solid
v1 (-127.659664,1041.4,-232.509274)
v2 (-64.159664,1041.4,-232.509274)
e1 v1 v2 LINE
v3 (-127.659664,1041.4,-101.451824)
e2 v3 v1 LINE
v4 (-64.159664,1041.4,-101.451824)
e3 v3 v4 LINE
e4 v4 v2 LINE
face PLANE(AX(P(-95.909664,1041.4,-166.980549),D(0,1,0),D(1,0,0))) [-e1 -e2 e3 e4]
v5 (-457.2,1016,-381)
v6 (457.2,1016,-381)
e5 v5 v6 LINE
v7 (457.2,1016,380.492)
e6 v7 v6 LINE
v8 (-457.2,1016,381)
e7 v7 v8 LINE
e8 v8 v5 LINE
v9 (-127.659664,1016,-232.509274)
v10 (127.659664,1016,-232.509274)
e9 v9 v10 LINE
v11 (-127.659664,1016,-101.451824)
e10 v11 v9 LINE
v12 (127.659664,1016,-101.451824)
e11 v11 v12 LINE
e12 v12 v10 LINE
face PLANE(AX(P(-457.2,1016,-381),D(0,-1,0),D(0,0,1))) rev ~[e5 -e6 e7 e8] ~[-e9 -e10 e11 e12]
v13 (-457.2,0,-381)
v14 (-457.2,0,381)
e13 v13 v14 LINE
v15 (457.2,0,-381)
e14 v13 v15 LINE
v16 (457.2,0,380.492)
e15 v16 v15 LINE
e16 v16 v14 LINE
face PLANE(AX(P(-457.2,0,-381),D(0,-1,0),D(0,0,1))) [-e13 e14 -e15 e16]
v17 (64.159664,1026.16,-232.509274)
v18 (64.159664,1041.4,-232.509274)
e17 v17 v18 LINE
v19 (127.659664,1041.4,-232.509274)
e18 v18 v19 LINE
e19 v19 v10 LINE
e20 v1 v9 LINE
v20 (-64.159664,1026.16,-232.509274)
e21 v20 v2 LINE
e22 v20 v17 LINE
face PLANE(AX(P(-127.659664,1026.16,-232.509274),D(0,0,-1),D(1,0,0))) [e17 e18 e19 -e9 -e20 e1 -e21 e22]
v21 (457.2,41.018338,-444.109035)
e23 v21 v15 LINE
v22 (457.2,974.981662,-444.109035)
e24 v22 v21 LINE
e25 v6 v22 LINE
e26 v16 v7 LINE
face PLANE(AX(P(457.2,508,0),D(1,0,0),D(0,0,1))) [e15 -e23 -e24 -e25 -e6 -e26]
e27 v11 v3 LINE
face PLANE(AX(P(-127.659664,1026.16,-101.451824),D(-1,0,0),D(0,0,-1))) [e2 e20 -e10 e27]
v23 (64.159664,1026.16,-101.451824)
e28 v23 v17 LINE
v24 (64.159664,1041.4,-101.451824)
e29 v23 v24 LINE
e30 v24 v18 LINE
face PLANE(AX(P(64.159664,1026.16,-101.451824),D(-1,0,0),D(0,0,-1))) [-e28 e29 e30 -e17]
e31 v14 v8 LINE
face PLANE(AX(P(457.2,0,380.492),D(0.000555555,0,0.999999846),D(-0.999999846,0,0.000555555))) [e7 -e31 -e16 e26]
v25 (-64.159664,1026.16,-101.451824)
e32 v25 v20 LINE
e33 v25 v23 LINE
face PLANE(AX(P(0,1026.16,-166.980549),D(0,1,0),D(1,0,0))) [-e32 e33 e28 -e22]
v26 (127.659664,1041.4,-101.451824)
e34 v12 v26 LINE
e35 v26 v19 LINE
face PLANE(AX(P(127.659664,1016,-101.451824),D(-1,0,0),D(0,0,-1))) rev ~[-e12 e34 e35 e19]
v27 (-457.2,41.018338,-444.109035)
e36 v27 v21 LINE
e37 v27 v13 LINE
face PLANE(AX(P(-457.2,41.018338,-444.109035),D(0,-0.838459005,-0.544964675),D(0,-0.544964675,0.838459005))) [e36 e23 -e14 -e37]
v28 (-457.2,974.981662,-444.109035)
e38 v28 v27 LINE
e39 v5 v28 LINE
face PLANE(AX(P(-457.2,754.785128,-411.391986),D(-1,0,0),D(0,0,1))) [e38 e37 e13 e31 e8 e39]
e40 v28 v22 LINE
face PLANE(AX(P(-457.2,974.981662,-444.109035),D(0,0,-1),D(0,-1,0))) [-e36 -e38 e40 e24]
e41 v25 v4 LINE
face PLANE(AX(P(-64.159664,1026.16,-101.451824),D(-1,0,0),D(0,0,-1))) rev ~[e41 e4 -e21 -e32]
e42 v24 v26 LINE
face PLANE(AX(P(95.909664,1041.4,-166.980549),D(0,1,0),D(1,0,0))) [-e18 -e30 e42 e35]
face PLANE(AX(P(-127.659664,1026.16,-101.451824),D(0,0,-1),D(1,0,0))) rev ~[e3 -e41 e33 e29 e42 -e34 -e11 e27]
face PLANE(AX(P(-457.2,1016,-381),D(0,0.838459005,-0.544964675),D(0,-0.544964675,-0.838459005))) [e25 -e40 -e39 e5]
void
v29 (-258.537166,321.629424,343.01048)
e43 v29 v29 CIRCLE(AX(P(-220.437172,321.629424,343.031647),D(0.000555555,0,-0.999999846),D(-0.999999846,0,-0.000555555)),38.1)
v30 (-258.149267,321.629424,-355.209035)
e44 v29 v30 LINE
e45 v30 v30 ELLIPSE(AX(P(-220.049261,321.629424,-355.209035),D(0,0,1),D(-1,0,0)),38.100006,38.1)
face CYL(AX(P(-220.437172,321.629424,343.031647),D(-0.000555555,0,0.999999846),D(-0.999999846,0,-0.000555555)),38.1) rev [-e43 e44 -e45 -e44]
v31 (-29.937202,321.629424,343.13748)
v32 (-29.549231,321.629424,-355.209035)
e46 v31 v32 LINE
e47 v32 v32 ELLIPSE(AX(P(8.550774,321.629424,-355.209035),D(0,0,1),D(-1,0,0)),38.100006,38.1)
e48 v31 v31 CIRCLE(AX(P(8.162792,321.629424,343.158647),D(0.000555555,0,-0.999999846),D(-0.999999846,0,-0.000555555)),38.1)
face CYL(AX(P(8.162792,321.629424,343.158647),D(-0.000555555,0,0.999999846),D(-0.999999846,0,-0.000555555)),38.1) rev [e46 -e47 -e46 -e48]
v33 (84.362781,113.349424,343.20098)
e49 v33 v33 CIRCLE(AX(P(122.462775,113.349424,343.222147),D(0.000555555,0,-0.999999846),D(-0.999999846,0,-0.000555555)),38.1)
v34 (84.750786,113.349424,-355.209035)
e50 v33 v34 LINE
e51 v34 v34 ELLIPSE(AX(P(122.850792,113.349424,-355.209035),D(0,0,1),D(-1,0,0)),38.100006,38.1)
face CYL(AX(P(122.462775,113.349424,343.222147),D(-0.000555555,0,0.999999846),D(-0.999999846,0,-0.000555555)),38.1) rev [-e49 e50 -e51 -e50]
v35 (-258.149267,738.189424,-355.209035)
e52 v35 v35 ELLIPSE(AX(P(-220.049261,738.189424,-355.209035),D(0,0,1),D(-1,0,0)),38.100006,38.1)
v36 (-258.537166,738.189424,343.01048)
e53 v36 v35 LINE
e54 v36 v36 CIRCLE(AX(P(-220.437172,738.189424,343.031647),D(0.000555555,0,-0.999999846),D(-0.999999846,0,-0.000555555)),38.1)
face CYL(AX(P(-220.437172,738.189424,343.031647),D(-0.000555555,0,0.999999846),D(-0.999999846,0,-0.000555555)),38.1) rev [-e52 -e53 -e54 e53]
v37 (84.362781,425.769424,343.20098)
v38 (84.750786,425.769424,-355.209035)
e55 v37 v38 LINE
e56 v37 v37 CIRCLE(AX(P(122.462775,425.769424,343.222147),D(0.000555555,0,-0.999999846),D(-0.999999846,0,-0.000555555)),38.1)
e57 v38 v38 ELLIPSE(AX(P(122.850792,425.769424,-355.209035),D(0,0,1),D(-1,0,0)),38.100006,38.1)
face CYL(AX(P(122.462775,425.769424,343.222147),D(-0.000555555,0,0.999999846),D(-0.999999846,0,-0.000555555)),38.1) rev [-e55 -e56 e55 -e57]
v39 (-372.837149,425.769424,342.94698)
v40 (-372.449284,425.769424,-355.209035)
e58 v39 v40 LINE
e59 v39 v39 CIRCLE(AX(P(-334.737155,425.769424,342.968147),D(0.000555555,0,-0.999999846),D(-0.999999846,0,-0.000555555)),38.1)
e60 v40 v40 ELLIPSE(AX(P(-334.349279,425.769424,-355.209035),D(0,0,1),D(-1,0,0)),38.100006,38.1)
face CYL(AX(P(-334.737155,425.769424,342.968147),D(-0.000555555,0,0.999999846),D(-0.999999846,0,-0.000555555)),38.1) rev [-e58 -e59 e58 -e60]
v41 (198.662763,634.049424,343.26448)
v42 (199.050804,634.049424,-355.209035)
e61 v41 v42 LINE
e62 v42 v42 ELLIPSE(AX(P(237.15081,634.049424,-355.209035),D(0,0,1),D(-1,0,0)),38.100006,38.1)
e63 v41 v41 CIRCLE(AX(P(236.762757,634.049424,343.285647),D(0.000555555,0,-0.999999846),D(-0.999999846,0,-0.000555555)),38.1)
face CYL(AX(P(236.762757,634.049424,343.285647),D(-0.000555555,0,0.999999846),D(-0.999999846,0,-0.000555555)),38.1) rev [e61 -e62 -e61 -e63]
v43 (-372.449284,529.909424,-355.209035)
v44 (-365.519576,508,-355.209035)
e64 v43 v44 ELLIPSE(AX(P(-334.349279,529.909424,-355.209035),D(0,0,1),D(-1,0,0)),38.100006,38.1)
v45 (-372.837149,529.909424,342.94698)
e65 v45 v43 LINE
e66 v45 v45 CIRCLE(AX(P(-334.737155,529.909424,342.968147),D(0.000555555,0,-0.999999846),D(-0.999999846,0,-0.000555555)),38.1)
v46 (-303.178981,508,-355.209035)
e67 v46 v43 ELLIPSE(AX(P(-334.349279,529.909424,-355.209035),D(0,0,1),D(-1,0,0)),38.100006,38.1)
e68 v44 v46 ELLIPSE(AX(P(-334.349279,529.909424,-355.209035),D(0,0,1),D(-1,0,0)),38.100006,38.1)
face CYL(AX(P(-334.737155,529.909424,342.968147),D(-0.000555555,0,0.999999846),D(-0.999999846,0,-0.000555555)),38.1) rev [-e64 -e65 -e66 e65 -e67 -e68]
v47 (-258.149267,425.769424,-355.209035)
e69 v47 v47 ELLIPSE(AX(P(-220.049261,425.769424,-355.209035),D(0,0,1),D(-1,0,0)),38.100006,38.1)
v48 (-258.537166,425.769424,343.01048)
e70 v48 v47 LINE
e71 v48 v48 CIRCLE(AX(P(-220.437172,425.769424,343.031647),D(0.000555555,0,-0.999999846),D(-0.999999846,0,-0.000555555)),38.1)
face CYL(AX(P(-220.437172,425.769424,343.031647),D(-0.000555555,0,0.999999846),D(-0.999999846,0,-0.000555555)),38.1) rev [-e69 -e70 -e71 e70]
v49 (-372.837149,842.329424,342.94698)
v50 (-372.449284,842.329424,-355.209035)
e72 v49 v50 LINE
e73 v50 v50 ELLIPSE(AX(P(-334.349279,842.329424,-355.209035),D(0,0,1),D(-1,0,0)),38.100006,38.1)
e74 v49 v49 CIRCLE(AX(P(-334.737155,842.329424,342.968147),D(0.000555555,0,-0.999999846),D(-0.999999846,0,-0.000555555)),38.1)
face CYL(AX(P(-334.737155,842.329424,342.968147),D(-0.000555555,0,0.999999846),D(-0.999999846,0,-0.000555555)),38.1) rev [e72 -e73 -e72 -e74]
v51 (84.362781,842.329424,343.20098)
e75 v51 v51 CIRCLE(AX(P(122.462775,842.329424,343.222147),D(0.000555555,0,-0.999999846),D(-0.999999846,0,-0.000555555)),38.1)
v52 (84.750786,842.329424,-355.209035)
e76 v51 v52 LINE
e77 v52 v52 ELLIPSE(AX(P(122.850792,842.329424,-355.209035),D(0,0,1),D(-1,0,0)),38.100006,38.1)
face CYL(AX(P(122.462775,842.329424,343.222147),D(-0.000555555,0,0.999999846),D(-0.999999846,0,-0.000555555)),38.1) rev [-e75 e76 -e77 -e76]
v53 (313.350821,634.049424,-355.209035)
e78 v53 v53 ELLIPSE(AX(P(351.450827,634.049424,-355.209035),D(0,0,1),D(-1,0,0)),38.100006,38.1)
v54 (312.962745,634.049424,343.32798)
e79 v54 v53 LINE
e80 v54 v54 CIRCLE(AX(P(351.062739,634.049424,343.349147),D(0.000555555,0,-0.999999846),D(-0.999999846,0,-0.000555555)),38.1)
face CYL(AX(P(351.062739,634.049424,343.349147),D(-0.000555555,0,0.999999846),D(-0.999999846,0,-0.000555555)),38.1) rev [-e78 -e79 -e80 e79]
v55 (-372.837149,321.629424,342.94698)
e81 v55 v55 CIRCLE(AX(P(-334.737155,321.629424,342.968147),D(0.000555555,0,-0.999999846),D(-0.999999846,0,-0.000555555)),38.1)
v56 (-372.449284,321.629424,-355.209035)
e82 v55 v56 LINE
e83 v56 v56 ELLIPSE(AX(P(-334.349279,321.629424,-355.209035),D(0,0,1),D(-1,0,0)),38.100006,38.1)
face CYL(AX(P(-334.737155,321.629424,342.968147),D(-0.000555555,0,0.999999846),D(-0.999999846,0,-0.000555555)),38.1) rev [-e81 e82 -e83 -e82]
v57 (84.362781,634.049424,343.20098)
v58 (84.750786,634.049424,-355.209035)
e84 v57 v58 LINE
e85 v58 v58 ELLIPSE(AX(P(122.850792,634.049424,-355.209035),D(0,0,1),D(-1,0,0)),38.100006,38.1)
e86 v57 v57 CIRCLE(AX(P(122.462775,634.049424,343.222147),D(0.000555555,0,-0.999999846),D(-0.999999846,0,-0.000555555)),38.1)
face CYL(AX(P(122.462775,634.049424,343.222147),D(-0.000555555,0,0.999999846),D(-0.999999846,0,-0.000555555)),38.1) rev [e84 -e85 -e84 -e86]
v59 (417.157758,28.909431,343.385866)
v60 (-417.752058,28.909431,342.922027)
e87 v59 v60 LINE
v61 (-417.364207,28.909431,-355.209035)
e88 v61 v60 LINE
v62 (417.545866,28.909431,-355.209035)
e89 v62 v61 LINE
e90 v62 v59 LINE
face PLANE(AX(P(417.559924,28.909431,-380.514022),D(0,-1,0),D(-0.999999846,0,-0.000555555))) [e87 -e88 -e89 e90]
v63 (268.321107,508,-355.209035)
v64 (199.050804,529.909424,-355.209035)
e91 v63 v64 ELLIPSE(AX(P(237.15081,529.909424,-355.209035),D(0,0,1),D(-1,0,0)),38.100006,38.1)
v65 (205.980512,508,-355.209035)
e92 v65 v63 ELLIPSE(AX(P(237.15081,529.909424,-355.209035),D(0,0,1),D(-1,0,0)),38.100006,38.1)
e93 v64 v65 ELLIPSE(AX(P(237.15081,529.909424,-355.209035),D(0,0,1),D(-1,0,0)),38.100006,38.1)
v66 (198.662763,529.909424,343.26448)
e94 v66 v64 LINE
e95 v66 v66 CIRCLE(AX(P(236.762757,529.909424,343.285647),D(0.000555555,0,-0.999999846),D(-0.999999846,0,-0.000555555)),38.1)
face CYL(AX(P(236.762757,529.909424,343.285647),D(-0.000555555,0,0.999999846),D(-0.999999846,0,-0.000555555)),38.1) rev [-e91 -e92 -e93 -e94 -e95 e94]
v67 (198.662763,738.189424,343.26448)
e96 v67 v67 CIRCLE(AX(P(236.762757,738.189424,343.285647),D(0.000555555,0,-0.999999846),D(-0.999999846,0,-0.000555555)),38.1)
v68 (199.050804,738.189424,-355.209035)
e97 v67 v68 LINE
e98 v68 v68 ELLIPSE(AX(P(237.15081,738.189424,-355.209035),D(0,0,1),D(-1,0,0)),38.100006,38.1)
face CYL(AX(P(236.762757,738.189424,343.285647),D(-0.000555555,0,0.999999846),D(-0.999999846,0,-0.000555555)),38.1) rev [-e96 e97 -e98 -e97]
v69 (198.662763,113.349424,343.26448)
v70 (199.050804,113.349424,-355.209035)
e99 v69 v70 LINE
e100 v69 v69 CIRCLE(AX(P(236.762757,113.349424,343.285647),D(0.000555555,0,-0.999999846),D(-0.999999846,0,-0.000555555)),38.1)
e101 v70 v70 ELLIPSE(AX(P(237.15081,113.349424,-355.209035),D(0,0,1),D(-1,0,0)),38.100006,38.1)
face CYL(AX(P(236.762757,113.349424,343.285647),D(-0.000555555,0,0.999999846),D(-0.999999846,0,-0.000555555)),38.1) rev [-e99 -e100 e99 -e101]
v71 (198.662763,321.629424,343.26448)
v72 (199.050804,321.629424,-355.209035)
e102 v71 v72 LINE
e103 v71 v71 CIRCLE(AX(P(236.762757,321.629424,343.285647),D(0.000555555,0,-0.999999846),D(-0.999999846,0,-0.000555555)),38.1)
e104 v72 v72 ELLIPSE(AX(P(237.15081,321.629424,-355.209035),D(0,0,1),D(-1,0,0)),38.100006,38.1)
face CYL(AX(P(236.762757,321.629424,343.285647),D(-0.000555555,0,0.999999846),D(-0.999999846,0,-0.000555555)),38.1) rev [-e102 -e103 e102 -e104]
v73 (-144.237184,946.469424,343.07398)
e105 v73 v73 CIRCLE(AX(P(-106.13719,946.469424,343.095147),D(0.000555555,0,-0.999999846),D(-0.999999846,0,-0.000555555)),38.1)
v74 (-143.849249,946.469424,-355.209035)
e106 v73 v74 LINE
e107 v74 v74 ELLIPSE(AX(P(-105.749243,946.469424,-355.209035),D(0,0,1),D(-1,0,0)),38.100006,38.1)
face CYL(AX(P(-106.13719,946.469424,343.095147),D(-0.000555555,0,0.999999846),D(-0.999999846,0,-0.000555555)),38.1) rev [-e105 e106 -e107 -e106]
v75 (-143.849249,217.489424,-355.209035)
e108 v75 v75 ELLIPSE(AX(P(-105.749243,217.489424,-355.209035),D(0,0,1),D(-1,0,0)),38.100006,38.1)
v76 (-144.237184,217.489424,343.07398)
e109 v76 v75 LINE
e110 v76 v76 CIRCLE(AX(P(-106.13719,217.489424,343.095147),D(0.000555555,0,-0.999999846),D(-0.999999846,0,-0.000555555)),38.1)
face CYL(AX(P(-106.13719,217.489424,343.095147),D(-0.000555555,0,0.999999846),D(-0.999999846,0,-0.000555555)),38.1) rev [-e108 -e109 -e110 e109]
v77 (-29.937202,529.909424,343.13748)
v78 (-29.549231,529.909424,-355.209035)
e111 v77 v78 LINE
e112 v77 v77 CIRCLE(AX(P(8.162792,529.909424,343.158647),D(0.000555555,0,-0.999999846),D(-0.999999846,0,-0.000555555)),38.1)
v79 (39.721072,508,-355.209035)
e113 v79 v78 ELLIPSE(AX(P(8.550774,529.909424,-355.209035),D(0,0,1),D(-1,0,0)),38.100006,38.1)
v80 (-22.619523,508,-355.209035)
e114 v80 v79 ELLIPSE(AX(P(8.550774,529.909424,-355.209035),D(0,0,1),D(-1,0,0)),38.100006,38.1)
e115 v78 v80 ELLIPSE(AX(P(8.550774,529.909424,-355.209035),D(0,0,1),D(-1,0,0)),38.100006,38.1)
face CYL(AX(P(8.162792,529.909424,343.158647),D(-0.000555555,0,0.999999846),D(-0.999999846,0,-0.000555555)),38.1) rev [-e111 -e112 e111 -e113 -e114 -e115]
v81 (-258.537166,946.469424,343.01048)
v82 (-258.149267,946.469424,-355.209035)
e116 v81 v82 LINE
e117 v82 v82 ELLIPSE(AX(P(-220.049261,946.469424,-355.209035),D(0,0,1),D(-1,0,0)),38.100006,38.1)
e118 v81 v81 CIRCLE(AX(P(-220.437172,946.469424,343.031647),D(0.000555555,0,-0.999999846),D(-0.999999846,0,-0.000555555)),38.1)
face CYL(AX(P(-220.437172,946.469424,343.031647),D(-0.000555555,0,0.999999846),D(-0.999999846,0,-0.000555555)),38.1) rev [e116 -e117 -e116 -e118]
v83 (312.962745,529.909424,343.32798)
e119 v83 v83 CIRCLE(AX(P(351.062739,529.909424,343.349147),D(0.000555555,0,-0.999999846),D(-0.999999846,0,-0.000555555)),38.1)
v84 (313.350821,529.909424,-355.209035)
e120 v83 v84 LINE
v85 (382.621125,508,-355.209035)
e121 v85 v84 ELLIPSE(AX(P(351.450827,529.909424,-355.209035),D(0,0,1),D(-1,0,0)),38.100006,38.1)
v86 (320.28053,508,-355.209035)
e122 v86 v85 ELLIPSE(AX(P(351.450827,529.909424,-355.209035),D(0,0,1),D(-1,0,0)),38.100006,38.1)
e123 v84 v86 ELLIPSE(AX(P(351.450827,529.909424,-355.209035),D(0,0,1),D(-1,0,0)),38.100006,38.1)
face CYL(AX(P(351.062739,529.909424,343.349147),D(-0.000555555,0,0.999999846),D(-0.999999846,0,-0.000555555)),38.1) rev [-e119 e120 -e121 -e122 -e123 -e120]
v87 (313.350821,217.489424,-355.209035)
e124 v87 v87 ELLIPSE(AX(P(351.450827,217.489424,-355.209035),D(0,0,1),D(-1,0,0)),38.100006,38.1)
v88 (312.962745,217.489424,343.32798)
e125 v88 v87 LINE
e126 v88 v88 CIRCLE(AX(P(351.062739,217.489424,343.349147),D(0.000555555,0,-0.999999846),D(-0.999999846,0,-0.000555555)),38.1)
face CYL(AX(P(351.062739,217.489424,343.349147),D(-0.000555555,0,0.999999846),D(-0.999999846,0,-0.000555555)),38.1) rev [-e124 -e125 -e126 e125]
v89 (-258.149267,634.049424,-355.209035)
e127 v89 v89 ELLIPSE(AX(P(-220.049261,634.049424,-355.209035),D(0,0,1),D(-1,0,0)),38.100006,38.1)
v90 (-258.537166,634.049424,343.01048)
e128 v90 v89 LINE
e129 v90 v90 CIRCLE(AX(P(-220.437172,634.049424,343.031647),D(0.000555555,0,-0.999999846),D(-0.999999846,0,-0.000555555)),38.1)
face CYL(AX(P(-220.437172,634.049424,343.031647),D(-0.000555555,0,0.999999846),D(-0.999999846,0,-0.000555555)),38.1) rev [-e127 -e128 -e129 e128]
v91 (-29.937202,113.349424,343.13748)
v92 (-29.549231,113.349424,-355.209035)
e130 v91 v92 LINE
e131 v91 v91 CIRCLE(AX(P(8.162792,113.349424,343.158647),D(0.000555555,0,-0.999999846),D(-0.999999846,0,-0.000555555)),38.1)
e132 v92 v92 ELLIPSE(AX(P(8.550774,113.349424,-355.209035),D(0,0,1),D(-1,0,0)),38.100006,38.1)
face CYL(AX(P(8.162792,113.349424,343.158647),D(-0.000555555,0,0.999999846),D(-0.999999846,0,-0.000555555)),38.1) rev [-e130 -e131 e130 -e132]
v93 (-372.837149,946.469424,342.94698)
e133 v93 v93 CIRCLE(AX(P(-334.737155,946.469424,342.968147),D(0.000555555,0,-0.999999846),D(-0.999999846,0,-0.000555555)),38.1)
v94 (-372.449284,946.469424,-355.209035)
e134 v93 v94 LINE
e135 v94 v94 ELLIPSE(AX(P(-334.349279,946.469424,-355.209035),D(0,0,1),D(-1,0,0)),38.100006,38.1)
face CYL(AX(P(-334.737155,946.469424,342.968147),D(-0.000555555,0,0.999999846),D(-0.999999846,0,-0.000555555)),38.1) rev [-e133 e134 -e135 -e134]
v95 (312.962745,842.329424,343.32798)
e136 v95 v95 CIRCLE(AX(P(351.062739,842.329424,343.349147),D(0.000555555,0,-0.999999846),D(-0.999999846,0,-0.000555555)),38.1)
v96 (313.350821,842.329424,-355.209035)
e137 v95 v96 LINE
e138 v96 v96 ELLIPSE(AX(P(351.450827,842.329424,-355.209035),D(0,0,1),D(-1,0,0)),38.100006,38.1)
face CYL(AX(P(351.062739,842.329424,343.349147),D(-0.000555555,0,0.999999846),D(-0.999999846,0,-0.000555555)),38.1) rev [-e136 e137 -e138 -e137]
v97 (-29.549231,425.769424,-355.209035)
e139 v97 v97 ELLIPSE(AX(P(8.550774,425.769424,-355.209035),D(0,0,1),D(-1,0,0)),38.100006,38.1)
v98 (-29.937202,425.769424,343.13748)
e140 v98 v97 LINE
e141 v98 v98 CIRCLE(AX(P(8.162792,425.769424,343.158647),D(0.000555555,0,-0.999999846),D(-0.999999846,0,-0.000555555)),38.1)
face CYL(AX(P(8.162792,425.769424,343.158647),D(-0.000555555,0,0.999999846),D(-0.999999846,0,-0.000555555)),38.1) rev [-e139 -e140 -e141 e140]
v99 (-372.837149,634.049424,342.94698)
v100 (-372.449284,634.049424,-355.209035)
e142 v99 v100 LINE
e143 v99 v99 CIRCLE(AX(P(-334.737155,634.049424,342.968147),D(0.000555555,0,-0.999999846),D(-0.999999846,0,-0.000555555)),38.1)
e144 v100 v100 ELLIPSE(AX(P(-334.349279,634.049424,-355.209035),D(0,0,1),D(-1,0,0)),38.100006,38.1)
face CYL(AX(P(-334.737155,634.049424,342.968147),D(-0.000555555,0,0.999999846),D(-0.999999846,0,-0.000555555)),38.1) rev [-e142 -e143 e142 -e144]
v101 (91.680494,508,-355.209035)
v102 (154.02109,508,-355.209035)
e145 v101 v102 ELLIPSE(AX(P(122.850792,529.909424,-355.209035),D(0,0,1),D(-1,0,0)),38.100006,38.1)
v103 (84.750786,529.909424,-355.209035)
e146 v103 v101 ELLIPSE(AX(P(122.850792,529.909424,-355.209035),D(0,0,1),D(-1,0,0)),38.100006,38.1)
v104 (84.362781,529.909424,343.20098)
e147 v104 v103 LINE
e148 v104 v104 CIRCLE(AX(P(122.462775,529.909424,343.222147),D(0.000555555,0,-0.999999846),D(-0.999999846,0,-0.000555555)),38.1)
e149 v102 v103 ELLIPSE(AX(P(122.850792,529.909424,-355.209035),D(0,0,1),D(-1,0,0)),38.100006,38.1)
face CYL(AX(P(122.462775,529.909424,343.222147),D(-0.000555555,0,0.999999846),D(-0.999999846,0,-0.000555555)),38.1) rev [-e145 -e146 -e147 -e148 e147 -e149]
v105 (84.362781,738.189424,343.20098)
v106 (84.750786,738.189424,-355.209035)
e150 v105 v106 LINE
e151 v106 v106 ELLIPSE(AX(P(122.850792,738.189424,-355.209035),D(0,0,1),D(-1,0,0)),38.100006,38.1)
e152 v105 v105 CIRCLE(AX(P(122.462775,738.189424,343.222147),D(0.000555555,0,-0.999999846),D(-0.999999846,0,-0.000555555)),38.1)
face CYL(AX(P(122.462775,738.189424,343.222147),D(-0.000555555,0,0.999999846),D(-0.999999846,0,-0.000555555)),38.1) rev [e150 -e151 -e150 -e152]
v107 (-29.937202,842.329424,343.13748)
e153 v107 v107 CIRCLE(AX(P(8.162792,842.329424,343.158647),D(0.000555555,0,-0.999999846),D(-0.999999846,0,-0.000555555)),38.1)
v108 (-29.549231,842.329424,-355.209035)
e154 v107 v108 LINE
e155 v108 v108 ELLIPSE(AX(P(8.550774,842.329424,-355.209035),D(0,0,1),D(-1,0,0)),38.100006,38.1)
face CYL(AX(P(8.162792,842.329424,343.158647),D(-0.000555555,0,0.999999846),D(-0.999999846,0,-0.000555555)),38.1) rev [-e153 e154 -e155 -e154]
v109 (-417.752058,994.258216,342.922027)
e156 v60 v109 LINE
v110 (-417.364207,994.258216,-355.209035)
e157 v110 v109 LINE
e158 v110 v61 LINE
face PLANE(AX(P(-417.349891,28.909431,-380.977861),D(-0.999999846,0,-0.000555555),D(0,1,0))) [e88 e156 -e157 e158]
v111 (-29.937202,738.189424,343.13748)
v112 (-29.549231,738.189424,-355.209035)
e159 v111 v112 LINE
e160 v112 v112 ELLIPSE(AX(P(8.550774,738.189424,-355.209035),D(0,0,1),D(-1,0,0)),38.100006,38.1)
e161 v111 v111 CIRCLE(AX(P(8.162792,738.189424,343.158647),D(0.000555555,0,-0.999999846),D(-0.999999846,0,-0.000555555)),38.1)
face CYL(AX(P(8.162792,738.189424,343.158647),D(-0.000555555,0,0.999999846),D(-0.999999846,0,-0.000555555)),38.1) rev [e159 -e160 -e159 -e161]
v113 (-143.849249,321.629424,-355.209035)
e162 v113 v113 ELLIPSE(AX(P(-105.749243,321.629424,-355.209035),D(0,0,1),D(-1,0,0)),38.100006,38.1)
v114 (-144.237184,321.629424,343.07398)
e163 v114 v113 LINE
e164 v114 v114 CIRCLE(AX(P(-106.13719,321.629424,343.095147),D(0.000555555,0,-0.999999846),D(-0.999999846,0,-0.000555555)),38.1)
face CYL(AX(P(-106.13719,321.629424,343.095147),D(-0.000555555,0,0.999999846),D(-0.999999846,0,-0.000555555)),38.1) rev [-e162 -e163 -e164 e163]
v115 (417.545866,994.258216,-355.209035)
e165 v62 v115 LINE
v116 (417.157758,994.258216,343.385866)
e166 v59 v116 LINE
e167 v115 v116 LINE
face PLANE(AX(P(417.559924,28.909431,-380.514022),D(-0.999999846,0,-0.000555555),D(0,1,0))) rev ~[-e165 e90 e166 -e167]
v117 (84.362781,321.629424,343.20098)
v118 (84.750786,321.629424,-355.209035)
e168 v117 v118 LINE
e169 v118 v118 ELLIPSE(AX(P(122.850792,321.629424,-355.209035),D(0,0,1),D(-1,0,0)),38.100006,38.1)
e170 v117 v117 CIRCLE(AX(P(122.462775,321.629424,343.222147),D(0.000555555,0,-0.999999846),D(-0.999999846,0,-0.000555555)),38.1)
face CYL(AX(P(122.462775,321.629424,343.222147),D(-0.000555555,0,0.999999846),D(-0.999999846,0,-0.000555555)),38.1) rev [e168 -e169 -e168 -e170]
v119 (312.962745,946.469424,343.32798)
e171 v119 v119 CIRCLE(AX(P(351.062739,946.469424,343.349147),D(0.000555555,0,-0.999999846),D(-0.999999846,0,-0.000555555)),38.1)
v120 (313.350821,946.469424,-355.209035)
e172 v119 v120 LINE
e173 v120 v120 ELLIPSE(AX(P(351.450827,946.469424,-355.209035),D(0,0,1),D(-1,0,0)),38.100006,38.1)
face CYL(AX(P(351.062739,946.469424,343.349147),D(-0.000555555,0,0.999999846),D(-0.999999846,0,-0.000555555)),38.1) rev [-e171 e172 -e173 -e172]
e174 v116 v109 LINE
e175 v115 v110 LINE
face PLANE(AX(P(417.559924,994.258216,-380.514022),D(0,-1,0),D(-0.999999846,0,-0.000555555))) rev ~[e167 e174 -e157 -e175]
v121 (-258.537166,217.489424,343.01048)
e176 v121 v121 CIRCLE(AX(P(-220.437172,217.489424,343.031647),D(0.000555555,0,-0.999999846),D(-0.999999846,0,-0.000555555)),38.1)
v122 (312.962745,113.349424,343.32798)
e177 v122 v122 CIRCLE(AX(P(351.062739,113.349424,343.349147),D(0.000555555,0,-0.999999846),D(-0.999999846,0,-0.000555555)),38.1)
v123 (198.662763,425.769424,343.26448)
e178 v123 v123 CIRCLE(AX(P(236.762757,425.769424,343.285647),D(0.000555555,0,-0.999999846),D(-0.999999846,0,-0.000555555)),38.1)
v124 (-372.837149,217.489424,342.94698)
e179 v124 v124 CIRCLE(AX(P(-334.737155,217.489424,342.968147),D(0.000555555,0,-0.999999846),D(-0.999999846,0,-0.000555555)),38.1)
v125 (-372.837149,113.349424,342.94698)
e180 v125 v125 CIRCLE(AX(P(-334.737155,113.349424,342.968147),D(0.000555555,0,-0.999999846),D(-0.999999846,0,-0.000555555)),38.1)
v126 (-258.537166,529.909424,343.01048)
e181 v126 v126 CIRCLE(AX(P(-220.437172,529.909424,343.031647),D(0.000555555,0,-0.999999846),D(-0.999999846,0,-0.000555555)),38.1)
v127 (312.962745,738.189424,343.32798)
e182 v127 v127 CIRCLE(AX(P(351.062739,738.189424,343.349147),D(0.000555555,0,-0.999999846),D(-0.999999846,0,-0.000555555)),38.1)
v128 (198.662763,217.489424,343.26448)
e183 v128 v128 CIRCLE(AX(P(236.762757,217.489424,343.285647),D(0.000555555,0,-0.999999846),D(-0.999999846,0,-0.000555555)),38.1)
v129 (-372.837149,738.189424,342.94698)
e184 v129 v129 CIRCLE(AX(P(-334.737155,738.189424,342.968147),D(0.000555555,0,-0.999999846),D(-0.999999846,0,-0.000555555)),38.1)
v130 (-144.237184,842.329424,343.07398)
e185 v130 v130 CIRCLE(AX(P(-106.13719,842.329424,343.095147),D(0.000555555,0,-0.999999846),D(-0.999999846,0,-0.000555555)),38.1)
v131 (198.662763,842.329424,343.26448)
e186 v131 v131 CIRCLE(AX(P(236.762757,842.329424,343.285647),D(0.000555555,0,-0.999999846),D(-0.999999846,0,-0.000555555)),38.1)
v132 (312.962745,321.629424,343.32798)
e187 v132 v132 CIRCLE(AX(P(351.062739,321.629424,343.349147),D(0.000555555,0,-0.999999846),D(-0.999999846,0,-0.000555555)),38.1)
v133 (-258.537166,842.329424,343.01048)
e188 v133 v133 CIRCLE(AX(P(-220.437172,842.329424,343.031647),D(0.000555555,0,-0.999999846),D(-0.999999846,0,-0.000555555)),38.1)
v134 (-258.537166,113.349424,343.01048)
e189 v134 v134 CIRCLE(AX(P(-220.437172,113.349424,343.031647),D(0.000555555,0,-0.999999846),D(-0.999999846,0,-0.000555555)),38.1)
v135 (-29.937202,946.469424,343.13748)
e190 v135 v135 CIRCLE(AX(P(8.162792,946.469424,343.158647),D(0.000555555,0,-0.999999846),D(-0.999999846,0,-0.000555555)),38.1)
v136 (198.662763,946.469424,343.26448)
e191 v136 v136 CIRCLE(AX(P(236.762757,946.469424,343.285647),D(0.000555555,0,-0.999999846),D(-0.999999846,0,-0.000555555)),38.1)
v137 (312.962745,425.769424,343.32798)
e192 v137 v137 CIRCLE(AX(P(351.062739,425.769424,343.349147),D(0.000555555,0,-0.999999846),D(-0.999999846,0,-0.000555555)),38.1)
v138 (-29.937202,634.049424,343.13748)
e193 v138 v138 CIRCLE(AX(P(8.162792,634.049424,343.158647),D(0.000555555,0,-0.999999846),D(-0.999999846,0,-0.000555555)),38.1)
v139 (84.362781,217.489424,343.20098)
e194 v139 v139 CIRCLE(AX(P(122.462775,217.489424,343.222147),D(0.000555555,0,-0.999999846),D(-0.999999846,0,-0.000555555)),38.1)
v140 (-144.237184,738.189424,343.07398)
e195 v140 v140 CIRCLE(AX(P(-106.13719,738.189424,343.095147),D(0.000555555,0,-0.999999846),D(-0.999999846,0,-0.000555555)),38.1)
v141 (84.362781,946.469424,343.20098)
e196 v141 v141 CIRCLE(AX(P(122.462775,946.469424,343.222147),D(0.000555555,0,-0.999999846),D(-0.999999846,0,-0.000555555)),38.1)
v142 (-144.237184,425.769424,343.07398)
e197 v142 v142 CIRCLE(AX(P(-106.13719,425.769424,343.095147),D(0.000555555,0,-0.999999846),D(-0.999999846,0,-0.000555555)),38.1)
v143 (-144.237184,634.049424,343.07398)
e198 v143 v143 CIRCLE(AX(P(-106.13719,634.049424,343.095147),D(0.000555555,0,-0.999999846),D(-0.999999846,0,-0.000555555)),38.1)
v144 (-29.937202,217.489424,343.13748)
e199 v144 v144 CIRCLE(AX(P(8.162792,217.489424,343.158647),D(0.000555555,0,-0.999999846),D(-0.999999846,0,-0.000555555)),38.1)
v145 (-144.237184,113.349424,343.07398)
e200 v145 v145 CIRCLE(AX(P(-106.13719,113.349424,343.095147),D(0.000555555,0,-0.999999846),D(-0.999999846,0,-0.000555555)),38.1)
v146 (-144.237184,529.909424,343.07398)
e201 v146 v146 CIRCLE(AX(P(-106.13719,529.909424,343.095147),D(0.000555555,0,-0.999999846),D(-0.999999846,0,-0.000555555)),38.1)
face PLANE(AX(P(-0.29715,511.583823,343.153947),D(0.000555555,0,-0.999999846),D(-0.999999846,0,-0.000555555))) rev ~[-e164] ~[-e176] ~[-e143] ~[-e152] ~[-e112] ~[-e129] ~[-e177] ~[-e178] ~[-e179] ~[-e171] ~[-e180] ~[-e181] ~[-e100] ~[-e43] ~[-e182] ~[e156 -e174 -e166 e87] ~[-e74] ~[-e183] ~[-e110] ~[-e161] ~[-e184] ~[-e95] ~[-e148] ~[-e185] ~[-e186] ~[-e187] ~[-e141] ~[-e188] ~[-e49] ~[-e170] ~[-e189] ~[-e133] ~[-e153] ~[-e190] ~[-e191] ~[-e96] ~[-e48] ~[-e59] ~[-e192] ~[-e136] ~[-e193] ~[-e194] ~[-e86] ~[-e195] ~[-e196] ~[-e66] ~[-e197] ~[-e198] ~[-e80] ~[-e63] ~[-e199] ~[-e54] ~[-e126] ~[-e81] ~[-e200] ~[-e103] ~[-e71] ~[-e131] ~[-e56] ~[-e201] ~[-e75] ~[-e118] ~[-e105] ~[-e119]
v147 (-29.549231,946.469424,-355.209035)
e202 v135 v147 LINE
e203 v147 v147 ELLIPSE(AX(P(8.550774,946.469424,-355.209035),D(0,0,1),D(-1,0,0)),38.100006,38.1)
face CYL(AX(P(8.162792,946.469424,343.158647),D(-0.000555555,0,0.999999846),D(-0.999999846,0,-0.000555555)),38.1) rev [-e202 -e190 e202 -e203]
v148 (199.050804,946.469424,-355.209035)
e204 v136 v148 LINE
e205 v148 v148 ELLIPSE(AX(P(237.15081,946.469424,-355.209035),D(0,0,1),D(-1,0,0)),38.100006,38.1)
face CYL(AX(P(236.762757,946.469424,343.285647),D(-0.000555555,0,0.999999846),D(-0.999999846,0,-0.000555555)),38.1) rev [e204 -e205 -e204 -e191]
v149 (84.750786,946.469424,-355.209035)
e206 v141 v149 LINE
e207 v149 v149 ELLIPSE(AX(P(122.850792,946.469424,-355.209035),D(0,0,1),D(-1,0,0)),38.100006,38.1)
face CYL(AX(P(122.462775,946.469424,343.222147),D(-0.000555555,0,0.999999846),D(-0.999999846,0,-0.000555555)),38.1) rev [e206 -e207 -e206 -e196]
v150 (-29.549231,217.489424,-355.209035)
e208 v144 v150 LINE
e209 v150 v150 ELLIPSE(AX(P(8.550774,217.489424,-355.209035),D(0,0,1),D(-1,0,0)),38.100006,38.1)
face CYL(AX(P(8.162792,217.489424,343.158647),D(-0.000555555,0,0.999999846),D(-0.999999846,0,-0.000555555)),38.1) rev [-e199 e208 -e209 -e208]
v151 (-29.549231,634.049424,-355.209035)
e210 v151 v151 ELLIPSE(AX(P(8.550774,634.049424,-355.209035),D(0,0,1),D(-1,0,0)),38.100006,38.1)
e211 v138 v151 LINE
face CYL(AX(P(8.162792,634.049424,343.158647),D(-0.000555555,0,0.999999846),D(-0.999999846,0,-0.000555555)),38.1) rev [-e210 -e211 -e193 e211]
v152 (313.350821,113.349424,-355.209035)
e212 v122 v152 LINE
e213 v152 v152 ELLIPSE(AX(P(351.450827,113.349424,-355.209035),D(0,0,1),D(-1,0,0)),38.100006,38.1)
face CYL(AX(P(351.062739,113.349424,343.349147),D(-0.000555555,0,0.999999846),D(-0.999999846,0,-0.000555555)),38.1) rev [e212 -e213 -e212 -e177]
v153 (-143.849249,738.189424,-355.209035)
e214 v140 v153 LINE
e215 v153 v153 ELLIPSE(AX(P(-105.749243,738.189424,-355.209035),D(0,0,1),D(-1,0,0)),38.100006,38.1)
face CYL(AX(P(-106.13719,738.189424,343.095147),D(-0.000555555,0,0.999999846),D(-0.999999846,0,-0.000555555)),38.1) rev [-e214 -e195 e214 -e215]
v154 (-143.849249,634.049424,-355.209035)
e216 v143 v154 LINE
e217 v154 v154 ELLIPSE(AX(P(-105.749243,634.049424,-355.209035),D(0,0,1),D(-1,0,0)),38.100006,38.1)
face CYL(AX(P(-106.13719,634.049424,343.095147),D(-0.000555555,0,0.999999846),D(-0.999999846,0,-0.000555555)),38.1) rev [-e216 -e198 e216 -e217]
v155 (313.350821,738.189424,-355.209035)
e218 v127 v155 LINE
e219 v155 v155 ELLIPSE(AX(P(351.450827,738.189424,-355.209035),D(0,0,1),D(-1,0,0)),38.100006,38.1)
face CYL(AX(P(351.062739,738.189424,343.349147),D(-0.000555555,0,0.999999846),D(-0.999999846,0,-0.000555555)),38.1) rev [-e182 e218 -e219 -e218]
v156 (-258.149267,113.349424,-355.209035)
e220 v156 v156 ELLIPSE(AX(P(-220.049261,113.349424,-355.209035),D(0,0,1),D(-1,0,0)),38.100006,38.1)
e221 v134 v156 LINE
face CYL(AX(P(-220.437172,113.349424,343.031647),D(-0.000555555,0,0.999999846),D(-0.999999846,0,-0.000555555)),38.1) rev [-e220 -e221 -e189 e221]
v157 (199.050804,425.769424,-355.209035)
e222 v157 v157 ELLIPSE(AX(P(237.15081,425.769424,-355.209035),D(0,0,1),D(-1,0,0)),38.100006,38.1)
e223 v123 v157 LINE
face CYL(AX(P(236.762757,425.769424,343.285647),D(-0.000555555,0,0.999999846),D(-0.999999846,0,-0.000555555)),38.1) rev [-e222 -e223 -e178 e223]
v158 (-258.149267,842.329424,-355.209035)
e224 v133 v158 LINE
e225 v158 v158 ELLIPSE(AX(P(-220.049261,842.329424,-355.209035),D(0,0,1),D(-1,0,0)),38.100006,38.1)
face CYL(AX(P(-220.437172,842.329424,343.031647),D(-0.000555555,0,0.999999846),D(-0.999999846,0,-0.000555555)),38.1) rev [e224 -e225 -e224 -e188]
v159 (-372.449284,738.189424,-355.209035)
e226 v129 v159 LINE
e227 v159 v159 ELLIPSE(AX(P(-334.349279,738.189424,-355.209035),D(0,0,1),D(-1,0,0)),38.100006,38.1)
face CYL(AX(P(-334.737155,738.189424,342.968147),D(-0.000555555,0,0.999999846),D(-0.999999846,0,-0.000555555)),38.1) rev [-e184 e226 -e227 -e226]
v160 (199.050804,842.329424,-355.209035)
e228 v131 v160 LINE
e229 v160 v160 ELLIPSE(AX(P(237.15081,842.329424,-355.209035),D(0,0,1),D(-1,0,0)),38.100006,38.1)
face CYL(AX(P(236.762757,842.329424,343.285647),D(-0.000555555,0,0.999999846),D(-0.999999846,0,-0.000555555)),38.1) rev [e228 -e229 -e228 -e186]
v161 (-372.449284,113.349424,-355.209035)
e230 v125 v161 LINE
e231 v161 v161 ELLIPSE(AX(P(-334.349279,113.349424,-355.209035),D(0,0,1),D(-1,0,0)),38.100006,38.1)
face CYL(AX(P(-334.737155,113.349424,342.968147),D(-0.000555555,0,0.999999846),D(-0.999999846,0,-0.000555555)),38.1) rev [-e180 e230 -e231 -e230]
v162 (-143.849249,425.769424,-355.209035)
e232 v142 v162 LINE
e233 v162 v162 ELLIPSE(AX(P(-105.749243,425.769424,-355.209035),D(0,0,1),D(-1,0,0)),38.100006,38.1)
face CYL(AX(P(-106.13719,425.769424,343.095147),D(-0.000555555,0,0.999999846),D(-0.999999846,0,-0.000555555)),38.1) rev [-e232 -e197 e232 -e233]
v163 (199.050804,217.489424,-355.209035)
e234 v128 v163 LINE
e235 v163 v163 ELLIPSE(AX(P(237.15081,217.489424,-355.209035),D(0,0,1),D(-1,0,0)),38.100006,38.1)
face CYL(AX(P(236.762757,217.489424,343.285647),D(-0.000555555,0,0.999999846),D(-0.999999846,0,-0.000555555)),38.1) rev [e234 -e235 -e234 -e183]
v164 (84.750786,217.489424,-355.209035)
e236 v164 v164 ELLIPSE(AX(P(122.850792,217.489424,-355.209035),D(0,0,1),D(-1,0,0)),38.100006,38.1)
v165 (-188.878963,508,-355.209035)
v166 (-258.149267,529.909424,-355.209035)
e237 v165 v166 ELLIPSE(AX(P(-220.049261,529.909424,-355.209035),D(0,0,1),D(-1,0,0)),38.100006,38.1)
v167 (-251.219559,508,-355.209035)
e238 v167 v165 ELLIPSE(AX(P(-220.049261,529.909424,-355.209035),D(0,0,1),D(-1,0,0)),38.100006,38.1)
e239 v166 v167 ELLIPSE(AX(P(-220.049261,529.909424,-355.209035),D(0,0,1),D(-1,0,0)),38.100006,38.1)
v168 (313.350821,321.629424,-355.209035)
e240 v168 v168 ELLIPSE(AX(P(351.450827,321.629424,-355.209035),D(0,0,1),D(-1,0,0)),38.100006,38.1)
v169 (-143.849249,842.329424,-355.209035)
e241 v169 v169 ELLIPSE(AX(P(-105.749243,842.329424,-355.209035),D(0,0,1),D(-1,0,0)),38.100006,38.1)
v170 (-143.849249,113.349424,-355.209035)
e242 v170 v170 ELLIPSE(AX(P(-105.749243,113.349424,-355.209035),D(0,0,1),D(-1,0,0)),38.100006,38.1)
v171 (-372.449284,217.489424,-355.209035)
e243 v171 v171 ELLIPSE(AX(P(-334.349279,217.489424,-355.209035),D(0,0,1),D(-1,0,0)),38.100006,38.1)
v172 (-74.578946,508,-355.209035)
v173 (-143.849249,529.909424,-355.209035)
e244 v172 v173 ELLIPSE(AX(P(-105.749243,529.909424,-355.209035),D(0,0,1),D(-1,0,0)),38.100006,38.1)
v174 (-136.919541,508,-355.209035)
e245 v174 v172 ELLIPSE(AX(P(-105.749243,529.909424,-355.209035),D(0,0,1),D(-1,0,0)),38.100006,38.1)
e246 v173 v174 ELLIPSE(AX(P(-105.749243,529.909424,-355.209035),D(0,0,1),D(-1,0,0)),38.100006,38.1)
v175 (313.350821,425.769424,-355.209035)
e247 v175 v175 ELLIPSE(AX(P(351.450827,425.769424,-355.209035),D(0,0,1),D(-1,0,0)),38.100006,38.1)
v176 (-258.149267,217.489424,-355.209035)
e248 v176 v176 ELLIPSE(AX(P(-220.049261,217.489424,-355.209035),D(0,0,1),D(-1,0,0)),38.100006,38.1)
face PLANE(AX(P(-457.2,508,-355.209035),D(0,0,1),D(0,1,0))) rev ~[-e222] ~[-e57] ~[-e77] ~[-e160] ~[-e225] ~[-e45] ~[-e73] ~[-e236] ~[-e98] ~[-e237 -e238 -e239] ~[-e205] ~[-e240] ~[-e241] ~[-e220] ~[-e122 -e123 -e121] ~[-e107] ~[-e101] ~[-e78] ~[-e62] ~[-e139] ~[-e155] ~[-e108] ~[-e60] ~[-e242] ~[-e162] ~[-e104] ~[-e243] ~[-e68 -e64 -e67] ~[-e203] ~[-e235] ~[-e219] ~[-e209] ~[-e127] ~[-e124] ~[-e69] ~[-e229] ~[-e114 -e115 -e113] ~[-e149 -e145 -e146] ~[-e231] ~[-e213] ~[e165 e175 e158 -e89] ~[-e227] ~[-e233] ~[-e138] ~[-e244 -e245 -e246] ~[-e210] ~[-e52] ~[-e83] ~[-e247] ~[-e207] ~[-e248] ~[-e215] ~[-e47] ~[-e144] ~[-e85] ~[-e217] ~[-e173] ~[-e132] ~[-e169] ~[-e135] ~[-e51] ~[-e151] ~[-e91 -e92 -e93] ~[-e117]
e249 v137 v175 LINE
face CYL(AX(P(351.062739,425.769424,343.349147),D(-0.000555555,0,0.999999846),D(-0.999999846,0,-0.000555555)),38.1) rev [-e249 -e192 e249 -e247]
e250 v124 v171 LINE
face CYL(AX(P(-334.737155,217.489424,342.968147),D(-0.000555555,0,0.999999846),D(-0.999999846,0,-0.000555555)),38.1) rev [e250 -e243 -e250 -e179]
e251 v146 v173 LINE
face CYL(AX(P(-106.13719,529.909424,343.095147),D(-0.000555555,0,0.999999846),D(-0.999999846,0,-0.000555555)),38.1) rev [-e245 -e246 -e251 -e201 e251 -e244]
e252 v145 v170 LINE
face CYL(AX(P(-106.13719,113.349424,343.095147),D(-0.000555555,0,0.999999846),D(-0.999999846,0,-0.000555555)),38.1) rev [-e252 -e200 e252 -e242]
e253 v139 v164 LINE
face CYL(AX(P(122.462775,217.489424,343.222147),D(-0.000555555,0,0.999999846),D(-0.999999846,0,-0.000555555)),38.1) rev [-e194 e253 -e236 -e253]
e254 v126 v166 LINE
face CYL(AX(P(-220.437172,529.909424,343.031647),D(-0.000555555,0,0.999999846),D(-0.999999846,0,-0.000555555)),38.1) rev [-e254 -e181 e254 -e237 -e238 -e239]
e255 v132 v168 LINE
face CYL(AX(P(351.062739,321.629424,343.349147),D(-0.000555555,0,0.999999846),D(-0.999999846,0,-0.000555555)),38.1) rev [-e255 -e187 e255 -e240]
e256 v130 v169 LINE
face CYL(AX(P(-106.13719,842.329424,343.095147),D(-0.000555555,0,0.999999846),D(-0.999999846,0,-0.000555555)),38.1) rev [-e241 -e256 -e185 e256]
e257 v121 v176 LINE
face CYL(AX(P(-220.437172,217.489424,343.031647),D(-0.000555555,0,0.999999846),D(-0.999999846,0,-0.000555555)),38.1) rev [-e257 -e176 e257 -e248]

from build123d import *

# Parameters (mm, degrees)
BOSS_EXTRUDE1_DEPTH  = 1016
SKETCH2_W            = 834.909944441
SKETCH2_H            = 965.348785231
CUT_EXTRUDE1_DEPTH   = 723.9
SKETCH3_R            = 38.1
BOSS_EXTRUDE2_DEPTH  = 723.9
SKETCH4_R            = 21.824467542
BOSS_EXTRUDE3_DEPTH  = 3.556
LPATTERN4_COUNT      = 7
LPATTERN4_PITCH      = 114.3
LPATTERN4_COUNT_DIR2 = 9
LPATTERN4_PITCH_DIR2 = 104.14
BOSS_EXTRUDE5_REACH  = 1421.937
SKETCH5_W            = 25.790965235
SKETCH5_H            = 508
SKETCH6_W            = 255.319328018
SKETCH6_H            = 131.057449743
BOSS_EXTRUDE6_DEPTH  = 10.16
SKETCH7_W            = 63.5
SKETCH7_H            = 131.057449743
BOSS_EXTRUDE7_DEPTH  = 15.24


with BuildPart() as part:
    # Sketch1 → Boss-Extrude1 (new body)
    with BuildSketch(Plane(origin=(0, 0, 0), x_dir=(1, 0, 0), z_dir=(0, 1, 0))):
        Polygon((-457.2, -381), (-457.2, 381), (457.2, 380.492), (457.2, -380.492), align=None)
    extrude(amount=BOSS_EXTRUDE1_DEPTH)

    # Sketch2 → Cut-Extrude1 (cut)
    with BuildSketch(Plane(origin=(0.21152549, 0, -380.745882486), x_dir=(-0.9999998456790481, 0, -0.0005555554698215814), z_dir=(0.0005555554698215814, 0, -0.9999998456790481))):
        with Locations((0.106508893, 511.58382344)):
            Rectangle(SKETCH2_W, SKETCH2_H)
    extrude(amount=-CUT_EXTRUDE1_DEPTH, mode=Mode.SUBTRACT)

    # Sketch3 → Boss-Extrude2 (add)
    with BuildSketch(Plane(origin=(-0.190641114, 0, 343.154005801), x_dir=(-0.9999998456790481, 0, -0.0005555554698216001), z_dir=(0.0005555554698216001, 0, -0.9999998456790481))):
        with Locations((-351.253434757, 946.469423659)):
            Circle(SKETCH3_R)
    boss_extrude2 = extrude(amount=BOSS_EXTRUDE2_DEPTH)

    # Sketch4 → Boss-Extrude3 (add)
    with BuildSketch(Plane(origin=(0.21152549, 0, -380.745882486), x_dir=(-0.9999998456790481, 0, -0.0005555554698216001), z_dir=(0.0005555554698216001, 0, -0.9999998456790481))):
        with Locations((-354.287460121, 946.233273052)):
            Circle(SKETCH4_R)
    boss_extrude3 = extrude(amount=BOSS_EXTRUDE3_DEPTH)

    # LPattern4: Boss-Extrude2, Boss-Extrude3 7 × 9
    with Locations(*[Vector(-0.9999998456790481, 0, -0.0005555554698216149) * (i * LPATTERN4_PITCH) + Vector(0, -1, 0) * (j * LPATTERN4_PITCH_DIR2) for i in range(LPATTERN4_COUNT) for j in range(LPATTERN4_COUNT_DIR2) if (i, j) != (0, 0)]):
        add(boss_extrude2)
        add(boss_extrude3)

    # Boss-Extrude5: up to this face of the body (flat: up to its plane)
    boss_extrude5_end = Plane(part.part.faces().sort_by_distance((457.2, 508, 0))[0])
    # Sketch5 → Boss-Extrude5 (add, up to the picked face)
    with BuildSketch(Plane.ZY.offset(457.2), mode=Mode.PRIVATE) as boss_extrude5_sk1:
        with Locations((-368.104517383, 254)):
            Rectangle(SKETCH5_W, SKETCH5_H)
    boss_extrude5_tool1 = split(extrude(boss_extrude5_sk1.sketch, amount=-BOSS_EXTRUDE5_REACH, mode=Mode.PRIVATE), bisect_by=boss_extrude5_end, keep=Keep.BOTH, mode=Mode.PRIVATE)
    # Sketch5 → Boss-Extrude5 (add, up to the picked face)
    with BuildSketch(Plane.ZY.offset(457.2), mode=Mode.PRIVATE) as boss_extrude5_sk2:
        with Locations((-368.104517383, 762)):
            Rectangle(SKETCH5_W, SKETCH5_H)
    boss_extrude5_tool2 = split(extrude(boss_extrude5_sk2.sketch, amount=-BOSS_EXTRUDE5_REACH, mode=Mode.PRIVATE), bisect_by=boss_extrude5_end, keep=Keep.BOTH, mode=Mode.PRIVATE)
    # Sketch5 → Boss-Extrude5 (add, up to the picked face)
    with BuildSketch(Plane.ZY.offset(457.2), mode=Mode.PRIVATE) as boss_extrude5_sk3:
        Polygon((-444.109034765, 41.018337697), (-381, 0), (-381, 508), (-444.109034765, 508), align=None)
    boss_extrude5_tool3 = split(extrude(boss_extrude5_sk3.sketch, amount=-BOSS_EXTRUDE5_REACH, mode=Mode.PRIVATE), bisect_by=boss_extrude5_end, keep=Keep.BOTH, mode=Mode.PRIVATE)
    # Sketch5 → Boss-Extrude5 (add, up to the picked face)
    with BuildSketch(Plane.ZY.offset(457.2), mode=Mode.PRIVATE) as boss_extrude5_sk4:
        Polygon((-444.109034765, 508), (-381, 508), (-381, 1016), (-444.109034765, 974.981662303), align=None)
    boss_extrude5_tool4 = split(extrude(boss_extrude5_sk4.sketch, amount=-BOSS_EXTRUDE5_REACH, mode=Mode.PRIVATE), bisect_by=boss_extrude5_end, keep=Keep.BOTH, mode=Mode.PRIVATE)
    add(boss_extrude5_tool1.solids().sort_by(Axis((-457.2, 254, -368.104517), (1, 0, 0)))[0])
    add(boss_extrude5_tool2.solids().sort_by(Axis((-457.2, 762, -368.104517), (1, 0, 0)))[0])
    add(boss_extrude5_tool3.solids().sort_by(Axis((-457.2, 264.110778, -412.112009), (1, 0, 0)))[0])
    add(boss_extrude5_tool4.solids().sort_by(Axis((-457.2, 751.889222, -412.112009), (1, 0, 0)))[0])

    # Sketch6 → Boss-Extrude6 (add)
    with BuildSketch(Plane(origin=(0, 1016, 0), x_dir=(1, 0, 0), z_dir=(0, 1, 0))):
        with Locations((0, 166.980548784)):
            Rectangle(SKETCH6_W, SKETCH6_H)
    extrude(amount=BOSS_EXTRUDE6_DEPTH)

    # Sketch7 → Boss-Extrude7 (add)
    with BuildSketch(Plane(origin=(0, 1026.16, 0), x_dir=(1, 0, 0), z_dir=(0, 1, 0))):
        with Locations((-95.909664009, 166.980548784)):
            Rectangle(SKETCH7_W, SKETCH7_H)
        with Locations((95.909664009, 166.980548784)):
            Rectangle(SKETCH7_W, SKETCH7_H)
    extrude(amount=BOSS_EXTRUDE7_DEPTH)


solid = part.part
